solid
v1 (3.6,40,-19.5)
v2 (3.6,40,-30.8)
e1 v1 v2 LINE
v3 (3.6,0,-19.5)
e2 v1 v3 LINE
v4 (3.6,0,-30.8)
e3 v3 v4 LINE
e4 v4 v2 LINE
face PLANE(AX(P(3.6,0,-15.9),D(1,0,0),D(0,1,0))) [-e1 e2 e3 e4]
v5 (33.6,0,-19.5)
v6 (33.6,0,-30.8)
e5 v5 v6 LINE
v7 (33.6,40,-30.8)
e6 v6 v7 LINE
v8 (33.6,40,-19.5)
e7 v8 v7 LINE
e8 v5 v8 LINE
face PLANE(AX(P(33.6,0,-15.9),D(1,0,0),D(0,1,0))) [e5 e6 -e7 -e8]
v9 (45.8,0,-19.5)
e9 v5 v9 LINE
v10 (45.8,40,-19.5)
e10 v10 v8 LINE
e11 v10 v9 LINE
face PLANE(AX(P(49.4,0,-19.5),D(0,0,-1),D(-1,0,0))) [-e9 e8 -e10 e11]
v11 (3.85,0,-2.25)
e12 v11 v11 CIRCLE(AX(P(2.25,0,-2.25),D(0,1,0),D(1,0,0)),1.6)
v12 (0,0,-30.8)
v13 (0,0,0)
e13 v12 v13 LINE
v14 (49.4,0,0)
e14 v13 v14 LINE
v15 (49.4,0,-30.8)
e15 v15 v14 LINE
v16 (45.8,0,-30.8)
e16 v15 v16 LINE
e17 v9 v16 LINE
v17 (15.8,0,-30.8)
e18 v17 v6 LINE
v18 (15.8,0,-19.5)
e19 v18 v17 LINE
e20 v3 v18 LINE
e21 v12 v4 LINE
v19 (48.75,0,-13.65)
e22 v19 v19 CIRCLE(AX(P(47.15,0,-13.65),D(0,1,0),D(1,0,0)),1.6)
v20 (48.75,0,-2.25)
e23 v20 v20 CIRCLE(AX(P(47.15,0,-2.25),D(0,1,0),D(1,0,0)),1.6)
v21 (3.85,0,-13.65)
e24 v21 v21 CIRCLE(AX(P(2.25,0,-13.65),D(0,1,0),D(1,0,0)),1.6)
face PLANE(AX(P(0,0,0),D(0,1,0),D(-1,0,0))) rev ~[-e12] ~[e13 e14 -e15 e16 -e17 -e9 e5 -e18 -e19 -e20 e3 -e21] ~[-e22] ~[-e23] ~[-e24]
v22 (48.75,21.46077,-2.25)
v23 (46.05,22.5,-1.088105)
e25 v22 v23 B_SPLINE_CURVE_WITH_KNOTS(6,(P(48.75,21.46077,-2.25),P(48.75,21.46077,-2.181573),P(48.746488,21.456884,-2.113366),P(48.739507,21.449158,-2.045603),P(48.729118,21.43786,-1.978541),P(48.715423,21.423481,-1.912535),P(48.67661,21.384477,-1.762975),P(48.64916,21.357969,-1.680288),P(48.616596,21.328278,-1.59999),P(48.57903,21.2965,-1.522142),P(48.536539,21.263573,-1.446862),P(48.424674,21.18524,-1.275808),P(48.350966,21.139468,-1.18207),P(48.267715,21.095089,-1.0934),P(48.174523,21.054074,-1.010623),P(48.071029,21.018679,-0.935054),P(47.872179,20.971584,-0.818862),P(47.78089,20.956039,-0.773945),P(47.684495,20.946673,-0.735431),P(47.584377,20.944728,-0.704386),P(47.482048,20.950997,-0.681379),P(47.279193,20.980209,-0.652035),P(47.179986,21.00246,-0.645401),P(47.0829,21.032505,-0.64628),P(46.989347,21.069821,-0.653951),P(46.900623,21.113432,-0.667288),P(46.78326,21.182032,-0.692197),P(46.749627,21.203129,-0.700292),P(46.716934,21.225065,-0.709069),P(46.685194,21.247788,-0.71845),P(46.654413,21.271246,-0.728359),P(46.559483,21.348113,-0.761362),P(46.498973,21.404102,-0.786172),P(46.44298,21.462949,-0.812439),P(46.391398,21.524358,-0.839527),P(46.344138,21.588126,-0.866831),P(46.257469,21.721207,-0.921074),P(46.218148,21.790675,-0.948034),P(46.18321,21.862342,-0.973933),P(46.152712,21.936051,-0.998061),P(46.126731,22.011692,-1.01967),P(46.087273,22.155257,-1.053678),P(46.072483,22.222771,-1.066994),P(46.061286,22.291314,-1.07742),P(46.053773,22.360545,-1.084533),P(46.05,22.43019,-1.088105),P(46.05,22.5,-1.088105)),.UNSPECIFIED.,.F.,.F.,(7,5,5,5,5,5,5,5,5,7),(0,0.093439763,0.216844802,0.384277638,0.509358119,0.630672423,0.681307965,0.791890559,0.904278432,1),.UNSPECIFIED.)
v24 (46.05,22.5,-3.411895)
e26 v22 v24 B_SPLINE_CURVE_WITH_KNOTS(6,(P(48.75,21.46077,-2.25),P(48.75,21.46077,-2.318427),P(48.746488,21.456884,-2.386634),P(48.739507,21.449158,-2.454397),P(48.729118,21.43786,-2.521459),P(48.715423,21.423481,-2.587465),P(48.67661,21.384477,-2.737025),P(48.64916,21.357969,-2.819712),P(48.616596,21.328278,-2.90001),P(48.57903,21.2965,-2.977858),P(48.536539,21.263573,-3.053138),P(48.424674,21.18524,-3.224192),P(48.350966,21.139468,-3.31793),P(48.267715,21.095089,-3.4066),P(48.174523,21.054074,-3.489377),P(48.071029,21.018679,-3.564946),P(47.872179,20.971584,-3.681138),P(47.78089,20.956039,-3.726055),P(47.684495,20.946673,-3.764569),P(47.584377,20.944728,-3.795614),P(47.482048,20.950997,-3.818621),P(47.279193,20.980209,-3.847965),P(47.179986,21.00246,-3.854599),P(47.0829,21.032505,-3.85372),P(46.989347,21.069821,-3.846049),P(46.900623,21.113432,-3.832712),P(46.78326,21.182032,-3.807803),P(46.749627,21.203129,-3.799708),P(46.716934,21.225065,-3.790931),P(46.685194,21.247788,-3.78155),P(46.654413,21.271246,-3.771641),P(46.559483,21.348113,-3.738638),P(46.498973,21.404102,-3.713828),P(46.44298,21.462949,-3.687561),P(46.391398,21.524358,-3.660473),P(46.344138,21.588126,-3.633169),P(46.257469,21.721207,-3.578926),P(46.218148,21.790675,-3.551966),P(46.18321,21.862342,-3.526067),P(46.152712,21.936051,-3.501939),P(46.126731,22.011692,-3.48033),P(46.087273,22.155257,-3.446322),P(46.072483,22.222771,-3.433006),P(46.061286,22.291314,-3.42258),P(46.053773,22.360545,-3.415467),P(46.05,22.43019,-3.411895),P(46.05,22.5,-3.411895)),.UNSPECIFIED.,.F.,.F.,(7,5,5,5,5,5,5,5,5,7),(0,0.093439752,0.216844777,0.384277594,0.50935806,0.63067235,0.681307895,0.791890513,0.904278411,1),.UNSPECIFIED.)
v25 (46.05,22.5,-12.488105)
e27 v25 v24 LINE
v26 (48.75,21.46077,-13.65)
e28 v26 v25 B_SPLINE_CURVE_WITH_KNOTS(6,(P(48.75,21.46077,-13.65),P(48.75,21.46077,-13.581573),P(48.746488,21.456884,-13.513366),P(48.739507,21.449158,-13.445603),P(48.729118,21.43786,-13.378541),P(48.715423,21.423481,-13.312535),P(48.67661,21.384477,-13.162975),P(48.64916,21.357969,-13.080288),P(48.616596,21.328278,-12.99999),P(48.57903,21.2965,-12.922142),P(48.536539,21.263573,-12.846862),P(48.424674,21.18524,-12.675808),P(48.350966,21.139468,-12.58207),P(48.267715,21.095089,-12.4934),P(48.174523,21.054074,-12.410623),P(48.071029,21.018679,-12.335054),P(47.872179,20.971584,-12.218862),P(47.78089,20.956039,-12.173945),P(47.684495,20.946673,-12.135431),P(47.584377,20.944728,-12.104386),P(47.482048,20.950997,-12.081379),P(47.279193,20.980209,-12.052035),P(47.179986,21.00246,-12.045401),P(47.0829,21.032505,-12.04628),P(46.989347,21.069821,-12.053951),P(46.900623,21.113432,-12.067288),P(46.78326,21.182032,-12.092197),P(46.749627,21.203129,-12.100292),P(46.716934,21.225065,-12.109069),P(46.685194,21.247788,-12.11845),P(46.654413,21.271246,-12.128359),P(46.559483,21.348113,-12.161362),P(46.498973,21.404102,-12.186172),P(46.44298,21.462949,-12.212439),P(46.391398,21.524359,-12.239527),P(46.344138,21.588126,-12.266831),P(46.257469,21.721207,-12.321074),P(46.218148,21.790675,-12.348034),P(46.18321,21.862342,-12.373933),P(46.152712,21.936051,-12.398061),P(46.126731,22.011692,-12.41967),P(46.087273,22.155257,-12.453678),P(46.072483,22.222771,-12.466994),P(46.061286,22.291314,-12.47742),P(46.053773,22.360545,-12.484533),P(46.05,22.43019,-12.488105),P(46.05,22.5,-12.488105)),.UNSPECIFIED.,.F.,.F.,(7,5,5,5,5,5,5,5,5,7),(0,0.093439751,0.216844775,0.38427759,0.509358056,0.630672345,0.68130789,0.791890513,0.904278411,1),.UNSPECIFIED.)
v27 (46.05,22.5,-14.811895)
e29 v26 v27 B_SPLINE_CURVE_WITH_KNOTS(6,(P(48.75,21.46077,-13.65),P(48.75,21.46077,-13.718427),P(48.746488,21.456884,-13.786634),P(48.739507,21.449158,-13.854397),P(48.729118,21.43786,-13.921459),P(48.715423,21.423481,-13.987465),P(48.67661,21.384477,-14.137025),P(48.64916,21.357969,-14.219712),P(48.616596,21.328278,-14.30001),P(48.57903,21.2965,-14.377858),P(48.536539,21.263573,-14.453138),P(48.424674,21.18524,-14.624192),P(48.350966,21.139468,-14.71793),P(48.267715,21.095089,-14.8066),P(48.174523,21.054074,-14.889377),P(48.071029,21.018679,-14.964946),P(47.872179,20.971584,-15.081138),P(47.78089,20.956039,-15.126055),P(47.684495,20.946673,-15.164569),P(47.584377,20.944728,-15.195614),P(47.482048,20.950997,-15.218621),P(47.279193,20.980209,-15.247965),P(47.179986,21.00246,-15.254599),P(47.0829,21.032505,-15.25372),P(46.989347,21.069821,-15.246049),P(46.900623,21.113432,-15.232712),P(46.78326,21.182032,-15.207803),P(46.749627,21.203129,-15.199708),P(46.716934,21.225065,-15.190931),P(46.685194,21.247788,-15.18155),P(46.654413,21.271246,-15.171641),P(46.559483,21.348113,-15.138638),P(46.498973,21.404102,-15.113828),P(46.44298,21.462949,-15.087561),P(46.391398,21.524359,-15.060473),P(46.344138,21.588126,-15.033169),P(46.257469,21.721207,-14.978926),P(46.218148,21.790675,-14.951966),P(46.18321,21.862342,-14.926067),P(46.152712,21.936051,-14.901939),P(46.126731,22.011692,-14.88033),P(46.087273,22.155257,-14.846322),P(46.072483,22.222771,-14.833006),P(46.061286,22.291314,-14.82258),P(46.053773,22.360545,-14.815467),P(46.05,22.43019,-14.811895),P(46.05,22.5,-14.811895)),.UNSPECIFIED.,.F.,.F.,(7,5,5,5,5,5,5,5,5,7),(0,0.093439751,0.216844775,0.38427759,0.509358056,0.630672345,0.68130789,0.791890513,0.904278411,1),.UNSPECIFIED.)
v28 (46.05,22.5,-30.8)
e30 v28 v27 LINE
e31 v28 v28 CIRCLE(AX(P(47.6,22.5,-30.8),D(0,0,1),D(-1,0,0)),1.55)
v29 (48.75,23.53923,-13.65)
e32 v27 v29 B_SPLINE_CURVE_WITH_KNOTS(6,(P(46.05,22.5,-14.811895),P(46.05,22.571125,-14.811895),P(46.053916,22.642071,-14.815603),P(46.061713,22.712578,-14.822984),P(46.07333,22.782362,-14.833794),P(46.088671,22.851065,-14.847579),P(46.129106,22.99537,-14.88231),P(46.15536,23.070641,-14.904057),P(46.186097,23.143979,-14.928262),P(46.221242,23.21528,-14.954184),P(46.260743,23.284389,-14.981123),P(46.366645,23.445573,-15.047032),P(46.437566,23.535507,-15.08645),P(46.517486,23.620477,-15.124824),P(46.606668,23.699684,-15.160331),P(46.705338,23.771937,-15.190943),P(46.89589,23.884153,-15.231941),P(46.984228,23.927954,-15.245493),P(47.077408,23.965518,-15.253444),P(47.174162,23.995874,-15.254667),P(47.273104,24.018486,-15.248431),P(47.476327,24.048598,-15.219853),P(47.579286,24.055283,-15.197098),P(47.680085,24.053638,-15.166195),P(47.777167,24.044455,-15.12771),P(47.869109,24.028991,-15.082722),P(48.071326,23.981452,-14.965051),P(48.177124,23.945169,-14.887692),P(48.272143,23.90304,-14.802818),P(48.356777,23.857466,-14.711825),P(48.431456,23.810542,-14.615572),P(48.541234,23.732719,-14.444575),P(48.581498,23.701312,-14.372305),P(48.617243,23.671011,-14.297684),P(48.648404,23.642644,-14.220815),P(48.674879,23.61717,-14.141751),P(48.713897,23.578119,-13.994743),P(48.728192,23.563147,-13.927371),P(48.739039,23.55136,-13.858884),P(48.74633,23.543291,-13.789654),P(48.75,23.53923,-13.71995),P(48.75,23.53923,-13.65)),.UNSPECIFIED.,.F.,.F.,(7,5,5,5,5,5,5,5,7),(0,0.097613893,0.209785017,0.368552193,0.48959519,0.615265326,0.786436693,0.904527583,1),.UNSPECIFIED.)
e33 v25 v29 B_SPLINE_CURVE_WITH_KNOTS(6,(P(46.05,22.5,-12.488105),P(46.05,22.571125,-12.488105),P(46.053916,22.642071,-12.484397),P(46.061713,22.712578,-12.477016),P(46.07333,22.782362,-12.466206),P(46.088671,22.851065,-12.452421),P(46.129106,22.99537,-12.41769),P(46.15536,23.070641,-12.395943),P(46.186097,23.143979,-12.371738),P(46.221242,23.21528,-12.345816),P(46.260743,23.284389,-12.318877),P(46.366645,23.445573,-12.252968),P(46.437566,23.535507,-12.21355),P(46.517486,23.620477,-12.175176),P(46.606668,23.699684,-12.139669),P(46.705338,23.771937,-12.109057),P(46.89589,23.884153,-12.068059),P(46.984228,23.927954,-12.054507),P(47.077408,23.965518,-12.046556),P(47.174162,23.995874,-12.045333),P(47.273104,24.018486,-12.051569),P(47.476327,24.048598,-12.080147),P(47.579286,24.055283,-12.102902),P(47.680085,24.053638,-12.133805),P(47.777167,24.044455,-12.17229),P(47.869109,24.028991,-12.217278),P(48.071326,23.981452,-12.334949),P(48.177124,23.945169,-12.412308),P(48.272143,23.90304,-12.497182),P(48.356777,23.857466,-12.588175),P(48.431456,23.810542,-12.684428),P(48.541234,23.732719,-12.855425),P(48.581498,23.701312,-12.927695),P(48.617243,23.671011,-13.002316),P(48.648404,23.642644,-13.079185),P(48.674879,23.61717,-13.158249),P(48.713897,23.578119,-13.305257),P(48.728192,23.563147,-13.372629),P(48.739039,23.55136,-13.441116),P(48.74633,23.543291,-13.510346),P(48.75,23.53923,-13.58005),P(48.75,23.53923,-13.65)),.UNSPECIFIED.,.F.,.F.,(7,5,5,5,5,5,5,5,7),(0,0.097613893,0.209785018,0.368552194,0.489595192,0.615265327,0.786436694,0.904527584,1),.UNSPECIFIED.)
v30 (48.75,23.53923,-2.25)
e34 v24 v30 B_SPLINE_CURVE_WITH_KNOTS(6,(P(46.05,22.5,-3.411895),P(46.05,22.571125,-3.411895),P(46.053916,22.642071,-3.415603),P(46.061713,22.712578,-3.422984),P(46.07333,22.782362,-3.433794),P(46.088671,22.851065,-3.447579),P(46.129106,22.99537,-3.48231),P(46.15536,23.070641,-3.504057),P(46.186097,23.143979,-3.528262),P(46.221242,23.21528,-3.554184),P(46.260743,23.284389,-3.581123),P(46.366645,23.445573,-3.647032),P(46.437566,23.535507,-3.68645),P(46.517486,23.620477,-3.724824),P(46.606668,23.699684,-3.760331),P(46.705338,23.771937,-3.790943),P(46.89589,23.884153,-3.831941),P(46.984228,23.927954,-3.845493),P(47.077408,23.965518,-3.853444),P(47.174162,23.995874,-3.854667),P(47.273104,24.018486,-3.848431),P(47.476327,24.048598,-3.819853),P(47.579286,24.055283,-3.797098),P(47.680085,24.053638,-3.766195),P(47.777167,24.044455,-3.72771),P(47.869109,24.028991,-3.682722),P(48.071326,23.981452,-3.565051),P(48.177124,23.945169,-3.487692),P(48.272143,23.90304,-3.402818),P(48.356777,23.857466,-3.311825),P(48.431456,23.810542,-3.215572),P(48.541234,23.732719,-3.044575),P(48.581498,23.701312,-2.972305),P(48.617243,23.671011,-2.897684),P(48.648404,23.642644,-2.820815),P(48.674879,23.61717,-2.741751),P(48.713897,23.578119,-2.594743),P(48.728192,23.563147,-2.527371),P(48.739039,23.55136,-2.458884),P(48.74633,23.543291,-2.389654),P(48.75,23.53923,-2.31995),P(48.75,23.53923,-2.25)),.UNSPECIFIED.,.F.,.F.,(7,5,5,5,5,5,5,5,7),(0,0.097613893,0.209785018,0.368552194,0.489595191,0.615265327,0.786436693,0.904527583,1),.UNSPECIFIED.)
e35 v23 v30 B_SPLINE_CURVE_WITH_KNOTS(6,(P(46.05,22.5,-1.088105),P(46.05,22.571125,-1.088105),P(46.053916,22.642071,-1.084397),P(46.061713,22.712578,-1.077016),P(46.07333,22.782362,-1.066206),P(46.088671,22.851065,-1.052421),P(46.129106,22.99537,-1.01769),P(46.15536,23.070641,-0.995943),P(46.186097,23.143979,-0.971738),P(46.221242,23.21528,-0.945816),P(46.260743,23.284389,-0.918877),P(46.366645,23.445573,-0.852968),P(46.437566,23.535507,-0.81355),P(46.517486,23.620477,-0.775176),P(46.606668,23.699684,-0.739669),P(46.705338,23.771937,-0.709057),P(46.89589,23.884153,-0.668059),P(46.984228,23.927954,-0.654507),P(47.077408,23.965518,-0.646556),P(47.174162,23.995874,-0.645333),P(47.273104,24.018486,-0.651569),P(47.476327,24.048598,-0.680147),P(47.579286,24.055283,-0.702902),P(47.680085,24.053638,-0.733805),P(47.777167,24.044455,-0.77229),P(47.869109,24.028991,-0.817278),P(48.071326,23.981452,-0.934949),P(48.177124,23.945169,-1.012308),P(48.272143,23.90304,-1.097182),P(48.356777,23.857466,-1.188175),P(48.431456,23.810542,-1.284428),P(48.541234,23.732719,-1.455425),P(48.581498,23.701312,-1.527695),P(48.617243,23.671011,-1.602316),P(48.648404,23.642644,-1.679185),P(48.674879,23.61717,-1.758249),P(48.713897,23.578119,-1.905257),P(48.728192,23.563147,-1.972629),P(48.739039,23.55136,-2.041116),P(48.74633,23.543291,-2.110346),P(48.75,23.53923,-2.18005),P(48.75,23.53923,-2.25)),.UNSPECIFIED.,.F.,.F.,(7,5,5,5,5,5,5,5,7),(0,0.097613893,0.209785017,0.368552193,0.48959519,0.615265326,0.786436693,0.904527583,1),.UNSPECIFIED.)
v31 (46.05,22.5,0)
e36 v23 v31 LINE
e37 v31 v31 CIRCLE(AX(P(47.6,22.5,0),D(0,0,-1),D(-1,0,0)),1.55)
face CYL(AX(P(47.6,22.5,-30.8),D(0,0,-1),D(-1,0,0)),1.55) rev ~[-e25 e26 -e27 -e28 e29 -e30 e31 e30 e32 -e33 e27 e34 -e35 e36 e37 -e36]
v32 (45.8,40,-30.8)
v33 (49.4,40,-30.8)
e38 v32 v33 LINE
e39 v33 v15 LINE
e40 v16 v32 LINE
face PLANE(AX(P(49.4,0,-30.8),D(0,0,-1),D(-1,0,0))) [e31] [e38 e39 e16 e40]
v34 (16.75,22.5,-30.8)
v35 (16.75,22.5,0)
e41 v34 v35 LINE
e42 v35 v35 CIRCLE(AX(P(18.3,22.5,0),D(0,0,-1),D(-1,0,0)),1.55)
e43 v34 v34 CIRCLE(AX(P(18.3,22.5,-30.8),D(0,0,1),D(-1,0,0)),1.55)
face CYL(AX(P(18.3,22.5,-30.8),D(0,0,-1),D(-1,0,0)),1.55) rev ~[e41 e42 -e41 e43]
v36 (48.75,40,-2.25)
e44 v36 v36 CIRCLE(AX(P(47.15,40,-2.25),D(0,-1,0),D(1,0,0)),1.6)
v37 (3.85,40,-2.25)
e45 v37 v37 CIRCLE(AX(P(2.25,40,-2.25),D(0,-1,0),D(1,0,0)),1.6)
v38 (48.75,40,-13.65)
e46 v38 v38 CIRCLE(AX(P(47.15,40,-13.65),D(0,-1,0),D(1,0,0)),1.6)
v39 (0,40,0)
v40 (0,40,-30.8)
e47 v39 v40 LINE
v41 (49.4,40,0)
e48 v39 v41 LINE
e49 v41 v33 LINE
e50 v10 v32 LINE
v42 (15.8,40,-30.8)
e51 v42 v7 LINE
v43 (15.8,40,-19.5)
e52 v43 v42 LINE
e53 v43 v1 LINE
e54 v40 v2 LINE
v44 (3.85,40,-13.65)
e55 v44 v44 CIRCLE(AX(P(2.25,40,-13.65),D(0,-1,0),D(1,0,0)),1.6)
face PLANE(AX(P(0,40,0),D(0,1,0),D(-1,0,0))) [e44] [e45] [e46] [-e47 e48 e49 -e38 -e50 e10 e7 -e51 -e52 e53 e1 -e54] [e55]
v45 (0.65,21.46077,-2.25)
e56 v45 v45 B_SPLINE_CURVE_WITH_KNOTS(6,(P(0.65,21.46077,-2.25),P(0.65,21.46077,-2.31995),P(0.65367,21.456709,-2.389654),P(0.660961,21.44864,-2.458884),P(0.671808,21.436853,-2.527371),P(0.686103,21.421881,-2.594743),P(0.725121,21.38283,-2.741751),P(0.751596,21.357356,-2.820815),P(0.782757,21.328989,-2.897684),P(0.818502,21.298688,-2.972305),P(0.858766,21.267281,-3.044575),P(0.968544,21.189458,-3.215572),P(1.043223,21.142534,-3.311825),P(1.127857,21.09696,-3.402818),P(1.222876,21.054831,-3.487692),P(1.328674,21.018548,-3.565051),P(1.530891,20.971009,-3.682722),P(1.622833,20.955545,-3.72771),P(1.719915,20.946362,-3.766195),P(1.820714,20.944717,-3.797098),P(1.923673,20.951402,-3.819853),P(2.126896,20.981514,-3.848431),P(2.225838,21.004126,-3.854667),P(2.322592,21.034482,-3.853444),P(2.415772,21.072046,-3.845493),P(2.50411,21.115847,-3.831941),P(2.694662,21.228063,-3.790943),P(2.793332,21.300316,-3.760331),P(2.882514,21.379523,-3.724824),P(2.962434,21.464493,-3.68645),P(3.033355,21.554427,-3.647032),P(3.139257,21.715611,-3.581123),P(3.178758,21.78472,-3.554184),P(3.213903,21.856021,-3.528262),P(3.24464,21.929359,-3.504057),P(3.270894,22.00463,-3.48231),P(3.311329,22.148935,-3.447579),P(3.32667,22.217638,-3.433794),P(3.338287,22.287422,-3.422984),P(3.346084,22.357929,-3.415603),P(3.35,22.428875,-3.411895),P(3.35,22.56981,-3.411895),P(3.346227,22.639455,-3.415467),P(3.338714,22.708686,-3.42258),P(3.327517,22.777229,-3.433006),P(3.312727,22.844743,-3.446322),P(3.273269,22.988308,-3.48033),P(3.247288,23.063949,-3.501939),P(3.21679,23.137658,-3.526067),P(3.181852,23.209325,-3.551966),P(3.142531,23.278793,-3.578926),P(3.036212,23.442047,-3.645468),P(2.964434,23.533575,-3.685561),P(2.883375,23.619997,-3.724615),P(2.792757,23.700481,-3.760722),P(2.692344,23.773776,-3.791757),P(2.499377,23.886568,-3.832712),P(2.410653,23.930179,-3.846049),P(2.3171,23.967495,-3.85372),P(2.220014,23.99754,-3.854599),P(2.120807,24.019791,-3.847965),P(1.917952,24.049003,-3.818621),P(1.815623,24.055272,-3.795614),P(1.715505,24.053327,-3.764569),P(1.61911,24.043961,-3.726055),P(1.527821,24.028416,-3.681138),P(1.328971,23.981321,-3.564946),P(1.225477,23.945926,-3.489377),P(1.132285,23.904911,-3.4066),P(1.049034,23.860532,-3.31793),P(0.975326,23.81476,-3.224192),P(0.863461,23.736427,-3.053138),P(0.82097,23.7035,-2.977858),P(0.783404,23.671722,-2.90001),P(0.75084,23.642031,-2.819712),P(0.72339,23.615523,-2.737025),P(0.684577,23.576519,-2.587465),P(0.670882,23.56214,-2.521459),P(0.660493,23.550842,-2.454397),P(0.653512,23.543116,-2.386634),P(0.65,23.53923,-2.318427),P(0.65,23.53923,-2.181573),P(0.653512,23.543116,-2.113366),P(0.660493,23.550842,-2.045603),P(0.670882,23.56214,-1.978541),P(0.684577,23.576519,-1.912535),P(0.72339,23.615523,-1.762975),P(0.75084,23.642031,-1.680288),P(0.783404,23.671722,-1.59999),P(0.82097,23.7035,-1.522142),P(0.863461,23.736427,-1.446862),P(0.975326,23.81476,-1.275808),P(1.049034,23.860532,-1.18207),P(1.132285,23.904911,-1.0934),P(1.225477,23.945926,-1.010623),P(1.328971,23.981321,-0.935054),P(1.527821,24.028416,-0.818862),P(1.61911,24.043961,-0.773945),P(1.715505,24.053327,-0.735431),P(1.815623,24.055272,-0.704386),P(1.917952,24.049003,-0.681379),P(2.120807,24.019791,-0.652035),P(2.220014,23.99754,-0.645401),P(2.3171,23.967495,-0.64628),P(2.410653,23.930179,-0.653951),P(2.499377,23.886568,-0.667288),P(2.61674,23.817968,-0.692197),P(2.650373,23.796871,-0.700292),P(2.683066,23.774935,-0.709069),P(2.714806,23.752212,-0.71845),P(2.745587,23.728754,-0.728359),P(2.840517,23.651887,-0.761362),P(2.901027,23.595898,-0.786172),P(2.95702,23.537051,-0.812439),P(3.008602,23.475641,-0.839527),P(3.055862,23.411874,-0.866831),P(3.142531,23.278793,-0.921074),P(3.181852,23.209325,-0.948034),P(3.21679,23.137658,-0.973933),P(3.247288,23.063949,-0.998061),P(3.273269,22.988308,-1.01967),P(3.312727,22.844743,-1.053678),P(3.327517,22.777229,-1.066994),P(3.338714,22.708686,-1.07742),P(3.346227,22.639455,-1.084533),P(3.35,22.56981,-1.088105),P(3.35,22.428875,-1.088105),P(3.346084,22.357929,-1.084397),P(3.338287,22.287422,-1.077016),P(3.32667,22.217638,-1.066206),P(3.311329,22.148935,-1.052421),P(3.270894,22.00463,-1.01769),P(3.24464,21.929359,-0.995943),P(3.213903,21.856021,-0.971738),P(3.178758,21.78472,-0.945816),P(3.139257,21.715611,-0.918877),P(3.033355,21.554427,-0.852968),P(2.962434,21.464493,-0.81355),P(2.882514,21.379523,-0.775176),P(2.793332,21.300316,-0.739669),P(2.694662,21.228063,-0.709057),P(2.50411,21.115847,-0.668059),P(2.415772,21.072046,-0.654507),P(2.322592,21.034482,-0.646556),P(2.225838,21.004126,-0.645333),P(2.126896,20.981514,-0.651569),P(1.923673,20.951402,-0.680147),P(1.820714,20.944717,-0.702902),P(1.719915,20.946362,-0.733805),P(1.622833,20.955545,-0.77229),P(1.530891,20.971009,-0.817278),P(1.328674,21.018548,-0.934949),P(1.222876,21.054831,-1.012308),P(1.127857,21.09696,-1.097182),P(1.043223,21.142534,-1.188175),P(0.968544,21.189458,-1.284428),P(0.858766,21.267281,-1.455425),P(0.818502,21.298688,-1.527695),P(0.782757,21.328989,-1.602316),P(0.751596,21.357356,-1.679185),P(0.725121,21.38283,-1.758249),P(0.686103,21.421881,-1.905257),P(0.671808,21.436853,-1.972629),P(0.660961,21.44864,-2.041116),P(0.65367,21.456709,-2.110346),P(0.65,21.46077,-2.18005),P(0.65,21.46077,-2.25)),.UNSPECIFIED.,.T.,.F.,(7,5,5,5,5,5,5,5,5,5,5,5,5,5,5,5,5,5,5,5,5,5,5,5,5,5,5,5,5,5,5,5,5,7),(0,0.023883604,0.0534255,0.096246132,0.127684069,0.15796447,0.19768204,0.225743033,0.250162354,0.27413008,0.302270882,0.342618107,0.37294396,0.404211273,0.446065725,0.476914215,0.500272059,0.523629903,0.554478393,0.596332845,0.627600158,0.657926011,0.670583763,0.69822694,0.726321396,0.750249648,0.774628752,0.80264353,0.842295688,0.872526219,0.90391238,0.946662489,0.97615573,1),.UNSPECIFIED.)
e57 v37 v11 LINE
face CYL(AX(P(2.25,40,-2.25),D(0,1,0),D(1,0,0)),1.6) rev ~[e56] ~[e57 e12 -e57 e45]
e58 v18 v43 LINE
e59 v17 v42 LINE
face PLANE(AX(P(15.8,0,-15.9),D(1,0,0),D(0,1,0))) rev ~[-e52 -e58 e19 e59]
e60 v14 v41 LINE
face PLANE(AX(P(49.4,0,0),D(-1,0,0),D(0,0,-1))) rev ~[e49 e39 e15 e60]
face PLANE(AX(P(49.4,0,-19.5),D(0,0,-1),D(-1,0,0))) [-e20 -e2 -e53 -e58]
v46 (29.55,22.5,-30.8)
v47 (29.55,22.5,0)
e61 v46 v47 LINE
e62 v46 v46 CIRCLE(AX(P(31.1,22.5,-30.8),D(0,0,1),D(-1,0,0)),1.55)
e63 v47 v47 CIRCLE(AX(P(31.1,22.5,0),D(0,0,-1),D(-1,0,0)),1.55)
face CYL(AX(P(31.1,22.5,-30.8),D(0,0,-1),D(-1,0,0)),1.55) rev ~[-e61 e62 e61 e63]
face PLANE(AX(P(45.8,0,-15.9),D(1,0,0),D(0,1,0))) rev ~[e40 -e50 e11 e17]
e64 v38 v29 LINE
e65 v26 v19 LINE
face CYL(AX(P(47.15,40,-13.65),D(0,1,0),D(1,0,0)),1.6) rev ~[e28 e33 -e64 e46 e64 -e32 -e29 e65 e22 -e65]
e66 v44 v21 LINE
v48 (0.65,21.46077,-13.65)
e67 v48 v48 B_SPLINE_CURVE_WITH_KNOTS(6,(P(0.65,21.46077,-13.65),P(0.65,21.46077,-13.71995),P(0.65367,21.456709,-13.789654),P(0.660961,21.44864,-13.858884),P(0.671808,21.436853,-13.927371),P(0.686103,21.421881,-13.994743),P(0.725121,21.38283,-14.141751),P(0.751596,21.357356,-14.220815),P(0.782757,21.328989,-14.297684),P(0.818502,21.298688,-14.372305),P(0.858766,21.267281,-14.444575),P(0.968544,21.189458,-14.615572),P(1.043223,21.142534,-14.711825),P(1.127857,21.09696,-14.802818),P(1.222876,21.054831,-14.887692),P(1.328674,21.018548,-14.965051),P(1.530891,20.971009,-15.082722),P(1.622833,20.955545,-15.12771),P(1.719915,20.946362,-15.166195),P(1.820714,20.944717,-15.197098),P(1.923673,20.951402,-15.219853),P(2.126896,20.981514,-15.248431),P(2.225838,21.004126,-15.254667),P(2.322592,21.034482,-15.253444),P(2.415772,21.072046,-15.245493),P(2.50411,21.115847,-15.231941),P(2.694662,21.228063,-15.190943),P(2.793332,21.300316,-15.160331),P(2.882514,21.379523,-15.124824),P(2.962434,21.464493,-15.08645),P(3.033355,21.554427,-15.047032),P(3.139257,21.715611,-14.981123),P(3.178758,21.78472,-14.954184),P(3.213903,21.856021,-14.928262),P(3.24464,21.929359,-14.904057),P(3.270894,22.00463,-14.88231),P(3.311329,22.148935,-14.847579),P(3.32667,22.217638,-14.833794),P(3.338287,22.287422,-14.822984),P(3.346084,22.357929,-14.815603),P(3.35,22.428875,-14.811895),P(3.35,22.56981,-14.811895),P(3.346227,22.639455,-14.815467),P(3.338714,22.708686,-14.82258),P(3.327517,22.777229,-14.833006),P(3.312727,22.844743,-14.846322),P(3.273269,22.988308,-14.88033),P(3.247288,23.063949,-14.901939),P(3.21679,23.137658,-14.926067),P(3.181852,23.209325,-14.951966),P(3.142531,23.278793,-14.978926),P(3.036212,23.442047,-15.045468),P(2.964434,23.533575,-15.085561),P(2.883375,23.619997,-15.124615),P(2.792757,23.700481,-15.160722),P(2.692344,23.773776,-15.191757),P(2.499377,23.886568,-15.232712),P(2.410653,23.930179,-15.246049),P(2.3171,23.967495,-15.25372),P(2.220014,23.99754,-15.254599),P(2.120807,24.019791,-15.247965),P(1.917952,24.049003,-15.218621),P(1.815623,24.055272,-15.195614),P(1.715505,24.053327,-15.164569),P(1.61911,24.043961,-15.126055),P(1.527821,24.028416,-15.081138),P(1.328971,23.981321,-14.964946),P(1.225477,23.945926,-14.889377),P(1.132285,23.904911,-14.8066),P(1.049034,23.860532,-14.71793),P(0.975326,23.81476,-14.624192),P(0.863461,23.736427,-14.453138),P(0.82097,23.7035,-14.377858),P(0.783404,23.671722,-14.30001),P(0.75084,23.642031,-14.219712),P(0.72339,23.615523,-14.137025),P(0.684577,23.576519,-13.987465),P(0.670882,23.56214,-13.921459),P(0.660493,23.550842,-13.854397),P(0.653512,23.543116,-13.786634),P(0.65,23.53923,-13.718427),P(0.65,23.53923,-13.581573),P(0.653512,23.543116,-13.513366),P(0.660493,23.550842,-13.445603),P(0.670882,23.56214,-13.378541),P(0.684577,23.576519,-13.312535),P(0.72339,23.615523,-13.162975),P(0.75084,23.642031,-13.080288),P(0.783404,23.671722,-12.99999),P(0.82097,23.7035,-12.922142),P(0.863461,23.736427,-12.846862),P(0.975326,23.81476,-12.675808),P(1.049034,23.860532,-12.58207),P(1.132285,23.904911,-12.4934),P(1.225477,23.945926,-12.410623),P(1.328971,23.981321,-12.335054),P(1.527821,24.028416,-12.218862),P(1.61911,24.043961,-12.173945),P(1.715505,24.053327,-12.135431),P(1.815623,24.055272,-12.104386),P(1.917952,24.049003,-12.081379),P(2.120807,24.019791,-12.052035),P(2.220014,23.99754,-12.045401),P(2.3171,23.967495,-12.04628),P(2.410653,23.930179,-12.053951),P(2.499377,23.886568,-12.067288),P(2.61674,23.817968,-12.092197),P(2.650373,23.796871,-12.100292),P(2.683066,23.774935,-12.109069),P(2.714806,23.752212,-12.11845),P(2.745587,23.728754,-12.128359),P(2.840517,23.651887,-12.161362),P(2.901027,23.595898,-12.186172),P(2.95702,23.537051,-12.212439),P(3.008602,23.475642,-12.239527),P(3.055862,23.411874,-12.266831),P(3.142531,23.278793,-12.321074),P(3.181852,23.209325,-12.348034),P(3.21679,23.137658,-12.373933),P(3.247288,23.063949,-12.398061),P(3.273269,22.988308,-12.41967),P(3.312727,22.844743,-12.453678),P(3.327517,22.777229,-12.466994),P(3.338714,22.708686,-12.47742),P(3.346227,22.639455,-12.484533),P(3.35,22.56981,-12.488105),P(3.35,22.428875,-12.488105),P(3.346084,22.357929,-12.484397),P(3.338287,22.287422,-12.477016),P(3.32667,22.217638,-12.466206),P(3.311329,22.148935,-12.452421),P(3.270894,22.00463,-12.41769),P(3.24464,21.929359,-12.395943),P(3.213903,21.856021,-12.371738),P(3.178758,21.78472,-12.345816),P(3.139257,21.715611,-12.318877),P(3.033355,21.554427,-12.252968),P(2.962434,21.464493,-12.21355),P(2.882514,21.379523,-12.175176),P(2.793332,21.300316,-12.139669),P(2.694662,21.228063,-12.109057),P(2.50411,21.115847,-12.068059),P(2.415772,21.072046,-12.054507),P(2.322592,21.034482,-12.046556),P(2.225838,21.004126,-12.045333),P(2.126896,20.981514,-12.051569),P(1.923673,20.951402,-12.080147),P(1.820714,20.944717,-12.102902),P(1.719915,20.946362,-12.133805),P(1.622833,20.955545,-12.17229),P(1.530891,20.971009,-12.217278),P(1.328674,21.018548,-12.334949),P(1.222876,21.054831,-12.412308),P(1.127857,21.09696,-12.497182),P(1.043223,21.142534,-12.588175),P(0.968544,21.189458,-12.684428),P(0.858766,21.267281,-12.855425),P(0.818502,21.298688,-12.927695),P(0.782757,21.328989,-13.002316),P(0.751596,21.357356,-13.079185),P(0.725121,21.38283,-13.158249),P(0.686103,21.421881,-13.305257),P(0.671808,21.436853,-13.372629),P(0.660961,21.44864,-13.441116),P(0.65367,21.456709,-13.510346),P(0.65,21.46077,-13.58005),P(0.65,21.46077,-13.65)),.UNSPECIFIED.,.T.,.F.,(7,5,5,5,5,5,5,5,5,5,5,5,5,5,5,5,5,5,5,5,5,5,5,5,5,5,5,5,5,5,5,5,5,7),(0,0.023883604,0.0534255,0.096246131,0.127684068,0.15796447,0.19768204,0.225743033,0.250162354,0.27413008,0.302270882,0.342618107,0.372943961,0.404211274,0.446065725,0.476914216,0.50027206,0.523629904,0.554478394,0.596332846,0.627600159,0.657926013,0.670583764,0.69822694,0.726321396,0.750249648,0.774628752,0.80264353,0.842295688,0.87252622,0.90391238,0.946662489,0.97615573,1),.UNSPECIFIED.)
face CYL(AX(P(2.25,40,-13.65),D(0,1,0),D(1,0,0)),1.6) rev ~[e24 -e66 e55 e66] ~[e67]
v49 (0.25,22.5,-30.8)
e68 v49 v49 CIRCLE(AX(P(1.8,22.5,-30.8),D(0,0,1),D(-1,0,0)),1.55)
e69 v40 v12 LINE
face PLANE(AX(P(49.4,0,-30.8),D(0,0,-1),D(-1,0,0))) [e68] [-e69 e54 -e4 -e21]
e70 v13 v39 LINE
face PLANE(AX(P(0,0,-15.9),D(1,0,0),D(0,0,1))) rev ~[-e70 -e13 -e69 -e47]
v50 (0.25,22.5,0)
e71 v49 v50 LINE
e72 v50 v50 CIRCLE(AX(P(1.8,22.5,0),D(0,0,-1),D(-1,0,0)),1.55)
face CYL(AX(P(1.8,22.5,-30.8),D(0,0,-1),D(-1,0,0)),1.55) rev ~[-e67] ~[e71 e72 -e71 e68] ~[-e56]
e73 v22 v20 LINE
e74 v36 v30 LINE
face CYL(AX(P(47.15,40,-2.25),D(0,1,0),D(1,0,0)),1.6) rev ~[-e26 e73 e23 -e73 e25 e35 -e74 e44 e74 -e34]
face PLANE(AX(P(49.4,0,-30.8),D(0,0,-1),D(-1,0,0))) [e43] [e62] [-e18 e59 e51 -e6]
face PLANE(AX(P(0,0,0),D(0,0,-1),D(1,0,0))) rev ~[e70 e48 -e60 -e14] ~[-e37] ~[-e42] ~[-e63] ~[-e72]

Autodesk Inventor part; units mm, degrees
ref_plane "YZ Plane" through (0, 0, 0) normal (1, 0, 0) x (0, 1, 0)
ref_plane "XZ Plane" through (0, 0, 0) normal (0, 1, 0) x (-1, 0, 0)
ref_plane "XY Plane" through (0, 0, 0) normal (0, 0, 1) x (1, 0, 0)
sketch "Esboço1" plane through (0, 0, 0) normal (0, 1, 0) x (-1, 0, 0)
  line L0 (0, 0) -> (-49.4, 0)
  line L1 (-49.4, 0) -> (-49.4, -15.9)
  line L2 (-49.4, -15.9) -> (0, -15.9)
  line L3 (0, -15.9) -> (0, 0)
  dimension "d0" = 49.4
  dimension "d1" = 15.9
extrude "Extrusão1" add sketch "Esboço1" along normal blind 40
sketch "Esboço2" plane through (0, 40, 0) normal (0, 1, 0) x (1, 0, 0)
  line L0 (49.4, 15.9) -> (0, 15.9) projected
  line L1 (0, 15.9) -> (4.5, 15.9)
  line L2 (4.5, 15.9) -> (4.5, 11.4)
  line L3 (4.5, 11.4) -> (0, 11.4)
  line L4 (0, 11.4) -> (0, 15.9)
  line L5 (0, 0) -> (49.4, 0) projected
  line L6 (0, 0) -> (4.5, 0)
  line L7 (4.5, 0) -> (4.5, 4.5)
  line L8 (4.5, 4.5) -> (0, 4.5)
  line L9 (0, 4.5) -> (0, 0)
  line L10 (49.4, 0) -> (49.4, 15.9) projected
  line L11 (49.4, 15.9) -> (44.9, 15.9)
  line L12 (44.9, 15.9) -> (44.9, 11.4)
  line L13 (44.9, 11.4) -> (49.4, 11.4)
  line L14 (49.4, 11.4) -> (49.4, 15.9)
  line L15 (49.4, 0) -> (44.9, 0)
  line L16 (44.9, 0) -> (44.9, 4.5)
  line L17 (44.9, 4.5) -> (49.4, 4.5)
  line L18 (49.4, 4.5) -> (49.4, 0)
  line L19 (2.25, 15.9) -> (2.25, 11.4)
  line L20 (2.25, 4.5) -> (2.25, 0)
  line L21 (47.15, 15.9) -> (47.15, 11.4)
  line L22 (47.15, 4.5) -> (47.15, 0)
  circle A0 centre (2.25, 13.65) radius 1.6
  circle A1 centre (2.25, 2.25) radius 1.6
  circle A2 centre (47.15, 13.65) radius 1.6
  circle A3 centre (47.15, 2.25) radius 1.6
  dimension "d4" = 4.5
  dimension "d5" = 4.5
  dimension "d6" = 4.5
  dimension "d7" = 4.5
  dimension "d8" = 4.5
  dimension "d9" = 4.5
  dimension "d10" = 4.5
  dimension "d11" = 4.5
  dimension "d12" = 3.2
  dimension "d13" = 3.2
  dimension "d14" = 3.2
  dimension "d15" = 3.2
extrude "Extrusão2" cut sketch "Esboço2" against normal blind 40 contours A2 L21 | L21 A2 | A3 L22 | L22 A3 | A0 L19 | L19 A0 | A1 L20 | L20 A1
sketch "Esboço3" plane through (49.4, 0, -15.9) normal (0, 0, -1) x (-1, 0, 0)
  line L0 (49.4, 40) -> (0, 40) projected
  line L1 (49.4, 0) -> (33.6, 0)
  line L2 (33.6, 0) -> (33.6, 40)
  line L3 (33.6, 40) -> (49.4, 40)
  line L4 (49.4, 40) -> (49.4, 0)
  line L5 (0, 0) -> (15.8, 0)
  line L6 (15.8, 0) -> (15.8, 40)
  line L7 (15.8, 40) -> (0, 40)
  line L8 (0, 40) -> (0, 0)
  line L9 (33.6, 0) -> (15.8, 0)
  line L10 (15.8, 0) -> (15.8, 40)
  line L11 (15.8, 40) -> (33.6, 40)
  line L12 (33.6, 40) -> (33.6, 0)
  line L13 (49.4, 0) -> (45.8, 0)
  line L14 (45.8, 0) -> (45.8, 40)
  line L15 (45.8, 40) -> (49.4, 40)
  line L16 (49.4, 40) -> (49.4, 0)
  line L17 (0, 0) -> (3.6, 0)
  line L18 (3.6, 0) -> (3.6, 40)
  line L19 (3.6, 40) -> (0, 40)
  line L20 (0, 40) -> (0, 0)
  point P0 (3.6, 0)
  point P1 (3.6, 40)
  dimension "d18" = 15.8
  dimension "d19" = 15.8
  dimension "d24" = 3.6
  dimension "d25" = 3.6
extrude "Extrusão3" add sketch "Esboço3" along normal blind 14.9 contours L2 L9 L6 L0
extrude "Extrusão4" add sketch "Esboço3" along normal blind 3.6 contours L4 L1 L14 L0 | L14 L1 L2 L0 | L6 L5 L18 L0 | L18 L5 L8 L0
extrude "Extrusão5" add sketch "Esboço3" along normal blind 14.9 contours L4 L1 L14 L0 | L18 L5 L8 L0
sketch "Esboço4" plane through (49.4, 0, -30.8) normal (0, 0, -1) x (-1, 0, 0)
  point P0 (49.4, 0)
sketch "Esboço5" plane through (49.4, 0, -30.8) normal (0, 0, -1) x (-1, 0, 0)
  line L0 (15.8, 40) -> (15.8, 0) projected
  line L1 (33.6, 0) -> (33.6, 40) projected
  line L2 (15.8, 40) -> (33.6, 40)
  line L3 (33.6, 40) -> (33.6, 20)
  line L4 (33.6, 20) -> (15.8, 20)
  line L5 (15.8, 20) -> (15.8, 40)
  line L6 (15.8, 20) -> (33.6, 20)
  line L7 (33.6, 20) -> (33.6, 0)
  line L8 (33.6, 0) -> (15.8, 0)
  line L9 (15.8, 0) -> (15.8, 20)
  line L10 (15.8, 20) -> (33.6, 20)
  line L11 (33.6, 20) -> (33.6, 25)
  line L12 (33.6, 25) -> (15.8, 25)
  line L13 (15.8, 25) -> (15.8, 20)
  line L14 (15.8, 20) -> (20.8, 20)
  line L15 (20.8, 20) -> (20.8, 25)
  line L16 (20.8, 25) -> (15.8, 25)
  line L17 (15.8, 25) -> (15.8, 20)
  line L18 (33.6, 20) -> (28.6, 20)
  line L19 (28.6, 20) -> (28.6, 25)
  line L20 (28.6, 25) -> (33.6, 25)
  line L21 (33.6, 25) -> (33.6, 20)
  line L22 (18.3, 25) -> (18.3, 20)
  circle A0 centre (18.3, 22.5) radius 1.55
  line L23 (31.1, 25) -> (31.1, 20)
  circle A1 centre (31.1, 22.5) radius 1.55
  line L24 (0, 40) -> (0, 0) projected
  line L25 (15.8, 25) -> (0, 25)
  line L26 (0, 25) -> (0, 20)
  line L27 (0, 20) -> (15.8, 20)
  line L28 (15.8, 20) -> (15.8, 25)
  line L29 (33.6, 25) -> (49.4, 25)
  line L30 (49.4, 25) -> (49.4, 20)
  line L31 (49.4, 20) -> (33.6, 20)
  line L32 (33.6, 20) -> (33.6, 25)
  line L33 (0, 22.5) -> (3.6, 22.5)
  line L34 (3.6, 40) -> (3.6, 0) projected
  line L35 (49.4, 22.5) -> (45.8, 22.5)
  line L36 (45.8, 0) -> (45.8, 40) projected
  circle A2 centre (1.8, 22.5) radius 1.55
  circle A3 centre (47.6, 22.5) radius 1.55
  point P0 (49.4, 0)
  dimension "d28" = 20
  dimension "d29" = 5
  dimension "d30" = 5
  dimension "d31" = 5
  dimension "d32" = 5
  dimension "d33" = 3.1
  dimension "d34" = 3.1
  dimension "d35" = 3.1
  dimension "d36" = 3.1
extrude "Extrusão6" cut sketch "Esboço5" against normal through all contours A0 L22 | L22 A0 | A2 L33 | L33 A2 | A1 L23 | L23 A1 | A3 L35 | L35 A3
